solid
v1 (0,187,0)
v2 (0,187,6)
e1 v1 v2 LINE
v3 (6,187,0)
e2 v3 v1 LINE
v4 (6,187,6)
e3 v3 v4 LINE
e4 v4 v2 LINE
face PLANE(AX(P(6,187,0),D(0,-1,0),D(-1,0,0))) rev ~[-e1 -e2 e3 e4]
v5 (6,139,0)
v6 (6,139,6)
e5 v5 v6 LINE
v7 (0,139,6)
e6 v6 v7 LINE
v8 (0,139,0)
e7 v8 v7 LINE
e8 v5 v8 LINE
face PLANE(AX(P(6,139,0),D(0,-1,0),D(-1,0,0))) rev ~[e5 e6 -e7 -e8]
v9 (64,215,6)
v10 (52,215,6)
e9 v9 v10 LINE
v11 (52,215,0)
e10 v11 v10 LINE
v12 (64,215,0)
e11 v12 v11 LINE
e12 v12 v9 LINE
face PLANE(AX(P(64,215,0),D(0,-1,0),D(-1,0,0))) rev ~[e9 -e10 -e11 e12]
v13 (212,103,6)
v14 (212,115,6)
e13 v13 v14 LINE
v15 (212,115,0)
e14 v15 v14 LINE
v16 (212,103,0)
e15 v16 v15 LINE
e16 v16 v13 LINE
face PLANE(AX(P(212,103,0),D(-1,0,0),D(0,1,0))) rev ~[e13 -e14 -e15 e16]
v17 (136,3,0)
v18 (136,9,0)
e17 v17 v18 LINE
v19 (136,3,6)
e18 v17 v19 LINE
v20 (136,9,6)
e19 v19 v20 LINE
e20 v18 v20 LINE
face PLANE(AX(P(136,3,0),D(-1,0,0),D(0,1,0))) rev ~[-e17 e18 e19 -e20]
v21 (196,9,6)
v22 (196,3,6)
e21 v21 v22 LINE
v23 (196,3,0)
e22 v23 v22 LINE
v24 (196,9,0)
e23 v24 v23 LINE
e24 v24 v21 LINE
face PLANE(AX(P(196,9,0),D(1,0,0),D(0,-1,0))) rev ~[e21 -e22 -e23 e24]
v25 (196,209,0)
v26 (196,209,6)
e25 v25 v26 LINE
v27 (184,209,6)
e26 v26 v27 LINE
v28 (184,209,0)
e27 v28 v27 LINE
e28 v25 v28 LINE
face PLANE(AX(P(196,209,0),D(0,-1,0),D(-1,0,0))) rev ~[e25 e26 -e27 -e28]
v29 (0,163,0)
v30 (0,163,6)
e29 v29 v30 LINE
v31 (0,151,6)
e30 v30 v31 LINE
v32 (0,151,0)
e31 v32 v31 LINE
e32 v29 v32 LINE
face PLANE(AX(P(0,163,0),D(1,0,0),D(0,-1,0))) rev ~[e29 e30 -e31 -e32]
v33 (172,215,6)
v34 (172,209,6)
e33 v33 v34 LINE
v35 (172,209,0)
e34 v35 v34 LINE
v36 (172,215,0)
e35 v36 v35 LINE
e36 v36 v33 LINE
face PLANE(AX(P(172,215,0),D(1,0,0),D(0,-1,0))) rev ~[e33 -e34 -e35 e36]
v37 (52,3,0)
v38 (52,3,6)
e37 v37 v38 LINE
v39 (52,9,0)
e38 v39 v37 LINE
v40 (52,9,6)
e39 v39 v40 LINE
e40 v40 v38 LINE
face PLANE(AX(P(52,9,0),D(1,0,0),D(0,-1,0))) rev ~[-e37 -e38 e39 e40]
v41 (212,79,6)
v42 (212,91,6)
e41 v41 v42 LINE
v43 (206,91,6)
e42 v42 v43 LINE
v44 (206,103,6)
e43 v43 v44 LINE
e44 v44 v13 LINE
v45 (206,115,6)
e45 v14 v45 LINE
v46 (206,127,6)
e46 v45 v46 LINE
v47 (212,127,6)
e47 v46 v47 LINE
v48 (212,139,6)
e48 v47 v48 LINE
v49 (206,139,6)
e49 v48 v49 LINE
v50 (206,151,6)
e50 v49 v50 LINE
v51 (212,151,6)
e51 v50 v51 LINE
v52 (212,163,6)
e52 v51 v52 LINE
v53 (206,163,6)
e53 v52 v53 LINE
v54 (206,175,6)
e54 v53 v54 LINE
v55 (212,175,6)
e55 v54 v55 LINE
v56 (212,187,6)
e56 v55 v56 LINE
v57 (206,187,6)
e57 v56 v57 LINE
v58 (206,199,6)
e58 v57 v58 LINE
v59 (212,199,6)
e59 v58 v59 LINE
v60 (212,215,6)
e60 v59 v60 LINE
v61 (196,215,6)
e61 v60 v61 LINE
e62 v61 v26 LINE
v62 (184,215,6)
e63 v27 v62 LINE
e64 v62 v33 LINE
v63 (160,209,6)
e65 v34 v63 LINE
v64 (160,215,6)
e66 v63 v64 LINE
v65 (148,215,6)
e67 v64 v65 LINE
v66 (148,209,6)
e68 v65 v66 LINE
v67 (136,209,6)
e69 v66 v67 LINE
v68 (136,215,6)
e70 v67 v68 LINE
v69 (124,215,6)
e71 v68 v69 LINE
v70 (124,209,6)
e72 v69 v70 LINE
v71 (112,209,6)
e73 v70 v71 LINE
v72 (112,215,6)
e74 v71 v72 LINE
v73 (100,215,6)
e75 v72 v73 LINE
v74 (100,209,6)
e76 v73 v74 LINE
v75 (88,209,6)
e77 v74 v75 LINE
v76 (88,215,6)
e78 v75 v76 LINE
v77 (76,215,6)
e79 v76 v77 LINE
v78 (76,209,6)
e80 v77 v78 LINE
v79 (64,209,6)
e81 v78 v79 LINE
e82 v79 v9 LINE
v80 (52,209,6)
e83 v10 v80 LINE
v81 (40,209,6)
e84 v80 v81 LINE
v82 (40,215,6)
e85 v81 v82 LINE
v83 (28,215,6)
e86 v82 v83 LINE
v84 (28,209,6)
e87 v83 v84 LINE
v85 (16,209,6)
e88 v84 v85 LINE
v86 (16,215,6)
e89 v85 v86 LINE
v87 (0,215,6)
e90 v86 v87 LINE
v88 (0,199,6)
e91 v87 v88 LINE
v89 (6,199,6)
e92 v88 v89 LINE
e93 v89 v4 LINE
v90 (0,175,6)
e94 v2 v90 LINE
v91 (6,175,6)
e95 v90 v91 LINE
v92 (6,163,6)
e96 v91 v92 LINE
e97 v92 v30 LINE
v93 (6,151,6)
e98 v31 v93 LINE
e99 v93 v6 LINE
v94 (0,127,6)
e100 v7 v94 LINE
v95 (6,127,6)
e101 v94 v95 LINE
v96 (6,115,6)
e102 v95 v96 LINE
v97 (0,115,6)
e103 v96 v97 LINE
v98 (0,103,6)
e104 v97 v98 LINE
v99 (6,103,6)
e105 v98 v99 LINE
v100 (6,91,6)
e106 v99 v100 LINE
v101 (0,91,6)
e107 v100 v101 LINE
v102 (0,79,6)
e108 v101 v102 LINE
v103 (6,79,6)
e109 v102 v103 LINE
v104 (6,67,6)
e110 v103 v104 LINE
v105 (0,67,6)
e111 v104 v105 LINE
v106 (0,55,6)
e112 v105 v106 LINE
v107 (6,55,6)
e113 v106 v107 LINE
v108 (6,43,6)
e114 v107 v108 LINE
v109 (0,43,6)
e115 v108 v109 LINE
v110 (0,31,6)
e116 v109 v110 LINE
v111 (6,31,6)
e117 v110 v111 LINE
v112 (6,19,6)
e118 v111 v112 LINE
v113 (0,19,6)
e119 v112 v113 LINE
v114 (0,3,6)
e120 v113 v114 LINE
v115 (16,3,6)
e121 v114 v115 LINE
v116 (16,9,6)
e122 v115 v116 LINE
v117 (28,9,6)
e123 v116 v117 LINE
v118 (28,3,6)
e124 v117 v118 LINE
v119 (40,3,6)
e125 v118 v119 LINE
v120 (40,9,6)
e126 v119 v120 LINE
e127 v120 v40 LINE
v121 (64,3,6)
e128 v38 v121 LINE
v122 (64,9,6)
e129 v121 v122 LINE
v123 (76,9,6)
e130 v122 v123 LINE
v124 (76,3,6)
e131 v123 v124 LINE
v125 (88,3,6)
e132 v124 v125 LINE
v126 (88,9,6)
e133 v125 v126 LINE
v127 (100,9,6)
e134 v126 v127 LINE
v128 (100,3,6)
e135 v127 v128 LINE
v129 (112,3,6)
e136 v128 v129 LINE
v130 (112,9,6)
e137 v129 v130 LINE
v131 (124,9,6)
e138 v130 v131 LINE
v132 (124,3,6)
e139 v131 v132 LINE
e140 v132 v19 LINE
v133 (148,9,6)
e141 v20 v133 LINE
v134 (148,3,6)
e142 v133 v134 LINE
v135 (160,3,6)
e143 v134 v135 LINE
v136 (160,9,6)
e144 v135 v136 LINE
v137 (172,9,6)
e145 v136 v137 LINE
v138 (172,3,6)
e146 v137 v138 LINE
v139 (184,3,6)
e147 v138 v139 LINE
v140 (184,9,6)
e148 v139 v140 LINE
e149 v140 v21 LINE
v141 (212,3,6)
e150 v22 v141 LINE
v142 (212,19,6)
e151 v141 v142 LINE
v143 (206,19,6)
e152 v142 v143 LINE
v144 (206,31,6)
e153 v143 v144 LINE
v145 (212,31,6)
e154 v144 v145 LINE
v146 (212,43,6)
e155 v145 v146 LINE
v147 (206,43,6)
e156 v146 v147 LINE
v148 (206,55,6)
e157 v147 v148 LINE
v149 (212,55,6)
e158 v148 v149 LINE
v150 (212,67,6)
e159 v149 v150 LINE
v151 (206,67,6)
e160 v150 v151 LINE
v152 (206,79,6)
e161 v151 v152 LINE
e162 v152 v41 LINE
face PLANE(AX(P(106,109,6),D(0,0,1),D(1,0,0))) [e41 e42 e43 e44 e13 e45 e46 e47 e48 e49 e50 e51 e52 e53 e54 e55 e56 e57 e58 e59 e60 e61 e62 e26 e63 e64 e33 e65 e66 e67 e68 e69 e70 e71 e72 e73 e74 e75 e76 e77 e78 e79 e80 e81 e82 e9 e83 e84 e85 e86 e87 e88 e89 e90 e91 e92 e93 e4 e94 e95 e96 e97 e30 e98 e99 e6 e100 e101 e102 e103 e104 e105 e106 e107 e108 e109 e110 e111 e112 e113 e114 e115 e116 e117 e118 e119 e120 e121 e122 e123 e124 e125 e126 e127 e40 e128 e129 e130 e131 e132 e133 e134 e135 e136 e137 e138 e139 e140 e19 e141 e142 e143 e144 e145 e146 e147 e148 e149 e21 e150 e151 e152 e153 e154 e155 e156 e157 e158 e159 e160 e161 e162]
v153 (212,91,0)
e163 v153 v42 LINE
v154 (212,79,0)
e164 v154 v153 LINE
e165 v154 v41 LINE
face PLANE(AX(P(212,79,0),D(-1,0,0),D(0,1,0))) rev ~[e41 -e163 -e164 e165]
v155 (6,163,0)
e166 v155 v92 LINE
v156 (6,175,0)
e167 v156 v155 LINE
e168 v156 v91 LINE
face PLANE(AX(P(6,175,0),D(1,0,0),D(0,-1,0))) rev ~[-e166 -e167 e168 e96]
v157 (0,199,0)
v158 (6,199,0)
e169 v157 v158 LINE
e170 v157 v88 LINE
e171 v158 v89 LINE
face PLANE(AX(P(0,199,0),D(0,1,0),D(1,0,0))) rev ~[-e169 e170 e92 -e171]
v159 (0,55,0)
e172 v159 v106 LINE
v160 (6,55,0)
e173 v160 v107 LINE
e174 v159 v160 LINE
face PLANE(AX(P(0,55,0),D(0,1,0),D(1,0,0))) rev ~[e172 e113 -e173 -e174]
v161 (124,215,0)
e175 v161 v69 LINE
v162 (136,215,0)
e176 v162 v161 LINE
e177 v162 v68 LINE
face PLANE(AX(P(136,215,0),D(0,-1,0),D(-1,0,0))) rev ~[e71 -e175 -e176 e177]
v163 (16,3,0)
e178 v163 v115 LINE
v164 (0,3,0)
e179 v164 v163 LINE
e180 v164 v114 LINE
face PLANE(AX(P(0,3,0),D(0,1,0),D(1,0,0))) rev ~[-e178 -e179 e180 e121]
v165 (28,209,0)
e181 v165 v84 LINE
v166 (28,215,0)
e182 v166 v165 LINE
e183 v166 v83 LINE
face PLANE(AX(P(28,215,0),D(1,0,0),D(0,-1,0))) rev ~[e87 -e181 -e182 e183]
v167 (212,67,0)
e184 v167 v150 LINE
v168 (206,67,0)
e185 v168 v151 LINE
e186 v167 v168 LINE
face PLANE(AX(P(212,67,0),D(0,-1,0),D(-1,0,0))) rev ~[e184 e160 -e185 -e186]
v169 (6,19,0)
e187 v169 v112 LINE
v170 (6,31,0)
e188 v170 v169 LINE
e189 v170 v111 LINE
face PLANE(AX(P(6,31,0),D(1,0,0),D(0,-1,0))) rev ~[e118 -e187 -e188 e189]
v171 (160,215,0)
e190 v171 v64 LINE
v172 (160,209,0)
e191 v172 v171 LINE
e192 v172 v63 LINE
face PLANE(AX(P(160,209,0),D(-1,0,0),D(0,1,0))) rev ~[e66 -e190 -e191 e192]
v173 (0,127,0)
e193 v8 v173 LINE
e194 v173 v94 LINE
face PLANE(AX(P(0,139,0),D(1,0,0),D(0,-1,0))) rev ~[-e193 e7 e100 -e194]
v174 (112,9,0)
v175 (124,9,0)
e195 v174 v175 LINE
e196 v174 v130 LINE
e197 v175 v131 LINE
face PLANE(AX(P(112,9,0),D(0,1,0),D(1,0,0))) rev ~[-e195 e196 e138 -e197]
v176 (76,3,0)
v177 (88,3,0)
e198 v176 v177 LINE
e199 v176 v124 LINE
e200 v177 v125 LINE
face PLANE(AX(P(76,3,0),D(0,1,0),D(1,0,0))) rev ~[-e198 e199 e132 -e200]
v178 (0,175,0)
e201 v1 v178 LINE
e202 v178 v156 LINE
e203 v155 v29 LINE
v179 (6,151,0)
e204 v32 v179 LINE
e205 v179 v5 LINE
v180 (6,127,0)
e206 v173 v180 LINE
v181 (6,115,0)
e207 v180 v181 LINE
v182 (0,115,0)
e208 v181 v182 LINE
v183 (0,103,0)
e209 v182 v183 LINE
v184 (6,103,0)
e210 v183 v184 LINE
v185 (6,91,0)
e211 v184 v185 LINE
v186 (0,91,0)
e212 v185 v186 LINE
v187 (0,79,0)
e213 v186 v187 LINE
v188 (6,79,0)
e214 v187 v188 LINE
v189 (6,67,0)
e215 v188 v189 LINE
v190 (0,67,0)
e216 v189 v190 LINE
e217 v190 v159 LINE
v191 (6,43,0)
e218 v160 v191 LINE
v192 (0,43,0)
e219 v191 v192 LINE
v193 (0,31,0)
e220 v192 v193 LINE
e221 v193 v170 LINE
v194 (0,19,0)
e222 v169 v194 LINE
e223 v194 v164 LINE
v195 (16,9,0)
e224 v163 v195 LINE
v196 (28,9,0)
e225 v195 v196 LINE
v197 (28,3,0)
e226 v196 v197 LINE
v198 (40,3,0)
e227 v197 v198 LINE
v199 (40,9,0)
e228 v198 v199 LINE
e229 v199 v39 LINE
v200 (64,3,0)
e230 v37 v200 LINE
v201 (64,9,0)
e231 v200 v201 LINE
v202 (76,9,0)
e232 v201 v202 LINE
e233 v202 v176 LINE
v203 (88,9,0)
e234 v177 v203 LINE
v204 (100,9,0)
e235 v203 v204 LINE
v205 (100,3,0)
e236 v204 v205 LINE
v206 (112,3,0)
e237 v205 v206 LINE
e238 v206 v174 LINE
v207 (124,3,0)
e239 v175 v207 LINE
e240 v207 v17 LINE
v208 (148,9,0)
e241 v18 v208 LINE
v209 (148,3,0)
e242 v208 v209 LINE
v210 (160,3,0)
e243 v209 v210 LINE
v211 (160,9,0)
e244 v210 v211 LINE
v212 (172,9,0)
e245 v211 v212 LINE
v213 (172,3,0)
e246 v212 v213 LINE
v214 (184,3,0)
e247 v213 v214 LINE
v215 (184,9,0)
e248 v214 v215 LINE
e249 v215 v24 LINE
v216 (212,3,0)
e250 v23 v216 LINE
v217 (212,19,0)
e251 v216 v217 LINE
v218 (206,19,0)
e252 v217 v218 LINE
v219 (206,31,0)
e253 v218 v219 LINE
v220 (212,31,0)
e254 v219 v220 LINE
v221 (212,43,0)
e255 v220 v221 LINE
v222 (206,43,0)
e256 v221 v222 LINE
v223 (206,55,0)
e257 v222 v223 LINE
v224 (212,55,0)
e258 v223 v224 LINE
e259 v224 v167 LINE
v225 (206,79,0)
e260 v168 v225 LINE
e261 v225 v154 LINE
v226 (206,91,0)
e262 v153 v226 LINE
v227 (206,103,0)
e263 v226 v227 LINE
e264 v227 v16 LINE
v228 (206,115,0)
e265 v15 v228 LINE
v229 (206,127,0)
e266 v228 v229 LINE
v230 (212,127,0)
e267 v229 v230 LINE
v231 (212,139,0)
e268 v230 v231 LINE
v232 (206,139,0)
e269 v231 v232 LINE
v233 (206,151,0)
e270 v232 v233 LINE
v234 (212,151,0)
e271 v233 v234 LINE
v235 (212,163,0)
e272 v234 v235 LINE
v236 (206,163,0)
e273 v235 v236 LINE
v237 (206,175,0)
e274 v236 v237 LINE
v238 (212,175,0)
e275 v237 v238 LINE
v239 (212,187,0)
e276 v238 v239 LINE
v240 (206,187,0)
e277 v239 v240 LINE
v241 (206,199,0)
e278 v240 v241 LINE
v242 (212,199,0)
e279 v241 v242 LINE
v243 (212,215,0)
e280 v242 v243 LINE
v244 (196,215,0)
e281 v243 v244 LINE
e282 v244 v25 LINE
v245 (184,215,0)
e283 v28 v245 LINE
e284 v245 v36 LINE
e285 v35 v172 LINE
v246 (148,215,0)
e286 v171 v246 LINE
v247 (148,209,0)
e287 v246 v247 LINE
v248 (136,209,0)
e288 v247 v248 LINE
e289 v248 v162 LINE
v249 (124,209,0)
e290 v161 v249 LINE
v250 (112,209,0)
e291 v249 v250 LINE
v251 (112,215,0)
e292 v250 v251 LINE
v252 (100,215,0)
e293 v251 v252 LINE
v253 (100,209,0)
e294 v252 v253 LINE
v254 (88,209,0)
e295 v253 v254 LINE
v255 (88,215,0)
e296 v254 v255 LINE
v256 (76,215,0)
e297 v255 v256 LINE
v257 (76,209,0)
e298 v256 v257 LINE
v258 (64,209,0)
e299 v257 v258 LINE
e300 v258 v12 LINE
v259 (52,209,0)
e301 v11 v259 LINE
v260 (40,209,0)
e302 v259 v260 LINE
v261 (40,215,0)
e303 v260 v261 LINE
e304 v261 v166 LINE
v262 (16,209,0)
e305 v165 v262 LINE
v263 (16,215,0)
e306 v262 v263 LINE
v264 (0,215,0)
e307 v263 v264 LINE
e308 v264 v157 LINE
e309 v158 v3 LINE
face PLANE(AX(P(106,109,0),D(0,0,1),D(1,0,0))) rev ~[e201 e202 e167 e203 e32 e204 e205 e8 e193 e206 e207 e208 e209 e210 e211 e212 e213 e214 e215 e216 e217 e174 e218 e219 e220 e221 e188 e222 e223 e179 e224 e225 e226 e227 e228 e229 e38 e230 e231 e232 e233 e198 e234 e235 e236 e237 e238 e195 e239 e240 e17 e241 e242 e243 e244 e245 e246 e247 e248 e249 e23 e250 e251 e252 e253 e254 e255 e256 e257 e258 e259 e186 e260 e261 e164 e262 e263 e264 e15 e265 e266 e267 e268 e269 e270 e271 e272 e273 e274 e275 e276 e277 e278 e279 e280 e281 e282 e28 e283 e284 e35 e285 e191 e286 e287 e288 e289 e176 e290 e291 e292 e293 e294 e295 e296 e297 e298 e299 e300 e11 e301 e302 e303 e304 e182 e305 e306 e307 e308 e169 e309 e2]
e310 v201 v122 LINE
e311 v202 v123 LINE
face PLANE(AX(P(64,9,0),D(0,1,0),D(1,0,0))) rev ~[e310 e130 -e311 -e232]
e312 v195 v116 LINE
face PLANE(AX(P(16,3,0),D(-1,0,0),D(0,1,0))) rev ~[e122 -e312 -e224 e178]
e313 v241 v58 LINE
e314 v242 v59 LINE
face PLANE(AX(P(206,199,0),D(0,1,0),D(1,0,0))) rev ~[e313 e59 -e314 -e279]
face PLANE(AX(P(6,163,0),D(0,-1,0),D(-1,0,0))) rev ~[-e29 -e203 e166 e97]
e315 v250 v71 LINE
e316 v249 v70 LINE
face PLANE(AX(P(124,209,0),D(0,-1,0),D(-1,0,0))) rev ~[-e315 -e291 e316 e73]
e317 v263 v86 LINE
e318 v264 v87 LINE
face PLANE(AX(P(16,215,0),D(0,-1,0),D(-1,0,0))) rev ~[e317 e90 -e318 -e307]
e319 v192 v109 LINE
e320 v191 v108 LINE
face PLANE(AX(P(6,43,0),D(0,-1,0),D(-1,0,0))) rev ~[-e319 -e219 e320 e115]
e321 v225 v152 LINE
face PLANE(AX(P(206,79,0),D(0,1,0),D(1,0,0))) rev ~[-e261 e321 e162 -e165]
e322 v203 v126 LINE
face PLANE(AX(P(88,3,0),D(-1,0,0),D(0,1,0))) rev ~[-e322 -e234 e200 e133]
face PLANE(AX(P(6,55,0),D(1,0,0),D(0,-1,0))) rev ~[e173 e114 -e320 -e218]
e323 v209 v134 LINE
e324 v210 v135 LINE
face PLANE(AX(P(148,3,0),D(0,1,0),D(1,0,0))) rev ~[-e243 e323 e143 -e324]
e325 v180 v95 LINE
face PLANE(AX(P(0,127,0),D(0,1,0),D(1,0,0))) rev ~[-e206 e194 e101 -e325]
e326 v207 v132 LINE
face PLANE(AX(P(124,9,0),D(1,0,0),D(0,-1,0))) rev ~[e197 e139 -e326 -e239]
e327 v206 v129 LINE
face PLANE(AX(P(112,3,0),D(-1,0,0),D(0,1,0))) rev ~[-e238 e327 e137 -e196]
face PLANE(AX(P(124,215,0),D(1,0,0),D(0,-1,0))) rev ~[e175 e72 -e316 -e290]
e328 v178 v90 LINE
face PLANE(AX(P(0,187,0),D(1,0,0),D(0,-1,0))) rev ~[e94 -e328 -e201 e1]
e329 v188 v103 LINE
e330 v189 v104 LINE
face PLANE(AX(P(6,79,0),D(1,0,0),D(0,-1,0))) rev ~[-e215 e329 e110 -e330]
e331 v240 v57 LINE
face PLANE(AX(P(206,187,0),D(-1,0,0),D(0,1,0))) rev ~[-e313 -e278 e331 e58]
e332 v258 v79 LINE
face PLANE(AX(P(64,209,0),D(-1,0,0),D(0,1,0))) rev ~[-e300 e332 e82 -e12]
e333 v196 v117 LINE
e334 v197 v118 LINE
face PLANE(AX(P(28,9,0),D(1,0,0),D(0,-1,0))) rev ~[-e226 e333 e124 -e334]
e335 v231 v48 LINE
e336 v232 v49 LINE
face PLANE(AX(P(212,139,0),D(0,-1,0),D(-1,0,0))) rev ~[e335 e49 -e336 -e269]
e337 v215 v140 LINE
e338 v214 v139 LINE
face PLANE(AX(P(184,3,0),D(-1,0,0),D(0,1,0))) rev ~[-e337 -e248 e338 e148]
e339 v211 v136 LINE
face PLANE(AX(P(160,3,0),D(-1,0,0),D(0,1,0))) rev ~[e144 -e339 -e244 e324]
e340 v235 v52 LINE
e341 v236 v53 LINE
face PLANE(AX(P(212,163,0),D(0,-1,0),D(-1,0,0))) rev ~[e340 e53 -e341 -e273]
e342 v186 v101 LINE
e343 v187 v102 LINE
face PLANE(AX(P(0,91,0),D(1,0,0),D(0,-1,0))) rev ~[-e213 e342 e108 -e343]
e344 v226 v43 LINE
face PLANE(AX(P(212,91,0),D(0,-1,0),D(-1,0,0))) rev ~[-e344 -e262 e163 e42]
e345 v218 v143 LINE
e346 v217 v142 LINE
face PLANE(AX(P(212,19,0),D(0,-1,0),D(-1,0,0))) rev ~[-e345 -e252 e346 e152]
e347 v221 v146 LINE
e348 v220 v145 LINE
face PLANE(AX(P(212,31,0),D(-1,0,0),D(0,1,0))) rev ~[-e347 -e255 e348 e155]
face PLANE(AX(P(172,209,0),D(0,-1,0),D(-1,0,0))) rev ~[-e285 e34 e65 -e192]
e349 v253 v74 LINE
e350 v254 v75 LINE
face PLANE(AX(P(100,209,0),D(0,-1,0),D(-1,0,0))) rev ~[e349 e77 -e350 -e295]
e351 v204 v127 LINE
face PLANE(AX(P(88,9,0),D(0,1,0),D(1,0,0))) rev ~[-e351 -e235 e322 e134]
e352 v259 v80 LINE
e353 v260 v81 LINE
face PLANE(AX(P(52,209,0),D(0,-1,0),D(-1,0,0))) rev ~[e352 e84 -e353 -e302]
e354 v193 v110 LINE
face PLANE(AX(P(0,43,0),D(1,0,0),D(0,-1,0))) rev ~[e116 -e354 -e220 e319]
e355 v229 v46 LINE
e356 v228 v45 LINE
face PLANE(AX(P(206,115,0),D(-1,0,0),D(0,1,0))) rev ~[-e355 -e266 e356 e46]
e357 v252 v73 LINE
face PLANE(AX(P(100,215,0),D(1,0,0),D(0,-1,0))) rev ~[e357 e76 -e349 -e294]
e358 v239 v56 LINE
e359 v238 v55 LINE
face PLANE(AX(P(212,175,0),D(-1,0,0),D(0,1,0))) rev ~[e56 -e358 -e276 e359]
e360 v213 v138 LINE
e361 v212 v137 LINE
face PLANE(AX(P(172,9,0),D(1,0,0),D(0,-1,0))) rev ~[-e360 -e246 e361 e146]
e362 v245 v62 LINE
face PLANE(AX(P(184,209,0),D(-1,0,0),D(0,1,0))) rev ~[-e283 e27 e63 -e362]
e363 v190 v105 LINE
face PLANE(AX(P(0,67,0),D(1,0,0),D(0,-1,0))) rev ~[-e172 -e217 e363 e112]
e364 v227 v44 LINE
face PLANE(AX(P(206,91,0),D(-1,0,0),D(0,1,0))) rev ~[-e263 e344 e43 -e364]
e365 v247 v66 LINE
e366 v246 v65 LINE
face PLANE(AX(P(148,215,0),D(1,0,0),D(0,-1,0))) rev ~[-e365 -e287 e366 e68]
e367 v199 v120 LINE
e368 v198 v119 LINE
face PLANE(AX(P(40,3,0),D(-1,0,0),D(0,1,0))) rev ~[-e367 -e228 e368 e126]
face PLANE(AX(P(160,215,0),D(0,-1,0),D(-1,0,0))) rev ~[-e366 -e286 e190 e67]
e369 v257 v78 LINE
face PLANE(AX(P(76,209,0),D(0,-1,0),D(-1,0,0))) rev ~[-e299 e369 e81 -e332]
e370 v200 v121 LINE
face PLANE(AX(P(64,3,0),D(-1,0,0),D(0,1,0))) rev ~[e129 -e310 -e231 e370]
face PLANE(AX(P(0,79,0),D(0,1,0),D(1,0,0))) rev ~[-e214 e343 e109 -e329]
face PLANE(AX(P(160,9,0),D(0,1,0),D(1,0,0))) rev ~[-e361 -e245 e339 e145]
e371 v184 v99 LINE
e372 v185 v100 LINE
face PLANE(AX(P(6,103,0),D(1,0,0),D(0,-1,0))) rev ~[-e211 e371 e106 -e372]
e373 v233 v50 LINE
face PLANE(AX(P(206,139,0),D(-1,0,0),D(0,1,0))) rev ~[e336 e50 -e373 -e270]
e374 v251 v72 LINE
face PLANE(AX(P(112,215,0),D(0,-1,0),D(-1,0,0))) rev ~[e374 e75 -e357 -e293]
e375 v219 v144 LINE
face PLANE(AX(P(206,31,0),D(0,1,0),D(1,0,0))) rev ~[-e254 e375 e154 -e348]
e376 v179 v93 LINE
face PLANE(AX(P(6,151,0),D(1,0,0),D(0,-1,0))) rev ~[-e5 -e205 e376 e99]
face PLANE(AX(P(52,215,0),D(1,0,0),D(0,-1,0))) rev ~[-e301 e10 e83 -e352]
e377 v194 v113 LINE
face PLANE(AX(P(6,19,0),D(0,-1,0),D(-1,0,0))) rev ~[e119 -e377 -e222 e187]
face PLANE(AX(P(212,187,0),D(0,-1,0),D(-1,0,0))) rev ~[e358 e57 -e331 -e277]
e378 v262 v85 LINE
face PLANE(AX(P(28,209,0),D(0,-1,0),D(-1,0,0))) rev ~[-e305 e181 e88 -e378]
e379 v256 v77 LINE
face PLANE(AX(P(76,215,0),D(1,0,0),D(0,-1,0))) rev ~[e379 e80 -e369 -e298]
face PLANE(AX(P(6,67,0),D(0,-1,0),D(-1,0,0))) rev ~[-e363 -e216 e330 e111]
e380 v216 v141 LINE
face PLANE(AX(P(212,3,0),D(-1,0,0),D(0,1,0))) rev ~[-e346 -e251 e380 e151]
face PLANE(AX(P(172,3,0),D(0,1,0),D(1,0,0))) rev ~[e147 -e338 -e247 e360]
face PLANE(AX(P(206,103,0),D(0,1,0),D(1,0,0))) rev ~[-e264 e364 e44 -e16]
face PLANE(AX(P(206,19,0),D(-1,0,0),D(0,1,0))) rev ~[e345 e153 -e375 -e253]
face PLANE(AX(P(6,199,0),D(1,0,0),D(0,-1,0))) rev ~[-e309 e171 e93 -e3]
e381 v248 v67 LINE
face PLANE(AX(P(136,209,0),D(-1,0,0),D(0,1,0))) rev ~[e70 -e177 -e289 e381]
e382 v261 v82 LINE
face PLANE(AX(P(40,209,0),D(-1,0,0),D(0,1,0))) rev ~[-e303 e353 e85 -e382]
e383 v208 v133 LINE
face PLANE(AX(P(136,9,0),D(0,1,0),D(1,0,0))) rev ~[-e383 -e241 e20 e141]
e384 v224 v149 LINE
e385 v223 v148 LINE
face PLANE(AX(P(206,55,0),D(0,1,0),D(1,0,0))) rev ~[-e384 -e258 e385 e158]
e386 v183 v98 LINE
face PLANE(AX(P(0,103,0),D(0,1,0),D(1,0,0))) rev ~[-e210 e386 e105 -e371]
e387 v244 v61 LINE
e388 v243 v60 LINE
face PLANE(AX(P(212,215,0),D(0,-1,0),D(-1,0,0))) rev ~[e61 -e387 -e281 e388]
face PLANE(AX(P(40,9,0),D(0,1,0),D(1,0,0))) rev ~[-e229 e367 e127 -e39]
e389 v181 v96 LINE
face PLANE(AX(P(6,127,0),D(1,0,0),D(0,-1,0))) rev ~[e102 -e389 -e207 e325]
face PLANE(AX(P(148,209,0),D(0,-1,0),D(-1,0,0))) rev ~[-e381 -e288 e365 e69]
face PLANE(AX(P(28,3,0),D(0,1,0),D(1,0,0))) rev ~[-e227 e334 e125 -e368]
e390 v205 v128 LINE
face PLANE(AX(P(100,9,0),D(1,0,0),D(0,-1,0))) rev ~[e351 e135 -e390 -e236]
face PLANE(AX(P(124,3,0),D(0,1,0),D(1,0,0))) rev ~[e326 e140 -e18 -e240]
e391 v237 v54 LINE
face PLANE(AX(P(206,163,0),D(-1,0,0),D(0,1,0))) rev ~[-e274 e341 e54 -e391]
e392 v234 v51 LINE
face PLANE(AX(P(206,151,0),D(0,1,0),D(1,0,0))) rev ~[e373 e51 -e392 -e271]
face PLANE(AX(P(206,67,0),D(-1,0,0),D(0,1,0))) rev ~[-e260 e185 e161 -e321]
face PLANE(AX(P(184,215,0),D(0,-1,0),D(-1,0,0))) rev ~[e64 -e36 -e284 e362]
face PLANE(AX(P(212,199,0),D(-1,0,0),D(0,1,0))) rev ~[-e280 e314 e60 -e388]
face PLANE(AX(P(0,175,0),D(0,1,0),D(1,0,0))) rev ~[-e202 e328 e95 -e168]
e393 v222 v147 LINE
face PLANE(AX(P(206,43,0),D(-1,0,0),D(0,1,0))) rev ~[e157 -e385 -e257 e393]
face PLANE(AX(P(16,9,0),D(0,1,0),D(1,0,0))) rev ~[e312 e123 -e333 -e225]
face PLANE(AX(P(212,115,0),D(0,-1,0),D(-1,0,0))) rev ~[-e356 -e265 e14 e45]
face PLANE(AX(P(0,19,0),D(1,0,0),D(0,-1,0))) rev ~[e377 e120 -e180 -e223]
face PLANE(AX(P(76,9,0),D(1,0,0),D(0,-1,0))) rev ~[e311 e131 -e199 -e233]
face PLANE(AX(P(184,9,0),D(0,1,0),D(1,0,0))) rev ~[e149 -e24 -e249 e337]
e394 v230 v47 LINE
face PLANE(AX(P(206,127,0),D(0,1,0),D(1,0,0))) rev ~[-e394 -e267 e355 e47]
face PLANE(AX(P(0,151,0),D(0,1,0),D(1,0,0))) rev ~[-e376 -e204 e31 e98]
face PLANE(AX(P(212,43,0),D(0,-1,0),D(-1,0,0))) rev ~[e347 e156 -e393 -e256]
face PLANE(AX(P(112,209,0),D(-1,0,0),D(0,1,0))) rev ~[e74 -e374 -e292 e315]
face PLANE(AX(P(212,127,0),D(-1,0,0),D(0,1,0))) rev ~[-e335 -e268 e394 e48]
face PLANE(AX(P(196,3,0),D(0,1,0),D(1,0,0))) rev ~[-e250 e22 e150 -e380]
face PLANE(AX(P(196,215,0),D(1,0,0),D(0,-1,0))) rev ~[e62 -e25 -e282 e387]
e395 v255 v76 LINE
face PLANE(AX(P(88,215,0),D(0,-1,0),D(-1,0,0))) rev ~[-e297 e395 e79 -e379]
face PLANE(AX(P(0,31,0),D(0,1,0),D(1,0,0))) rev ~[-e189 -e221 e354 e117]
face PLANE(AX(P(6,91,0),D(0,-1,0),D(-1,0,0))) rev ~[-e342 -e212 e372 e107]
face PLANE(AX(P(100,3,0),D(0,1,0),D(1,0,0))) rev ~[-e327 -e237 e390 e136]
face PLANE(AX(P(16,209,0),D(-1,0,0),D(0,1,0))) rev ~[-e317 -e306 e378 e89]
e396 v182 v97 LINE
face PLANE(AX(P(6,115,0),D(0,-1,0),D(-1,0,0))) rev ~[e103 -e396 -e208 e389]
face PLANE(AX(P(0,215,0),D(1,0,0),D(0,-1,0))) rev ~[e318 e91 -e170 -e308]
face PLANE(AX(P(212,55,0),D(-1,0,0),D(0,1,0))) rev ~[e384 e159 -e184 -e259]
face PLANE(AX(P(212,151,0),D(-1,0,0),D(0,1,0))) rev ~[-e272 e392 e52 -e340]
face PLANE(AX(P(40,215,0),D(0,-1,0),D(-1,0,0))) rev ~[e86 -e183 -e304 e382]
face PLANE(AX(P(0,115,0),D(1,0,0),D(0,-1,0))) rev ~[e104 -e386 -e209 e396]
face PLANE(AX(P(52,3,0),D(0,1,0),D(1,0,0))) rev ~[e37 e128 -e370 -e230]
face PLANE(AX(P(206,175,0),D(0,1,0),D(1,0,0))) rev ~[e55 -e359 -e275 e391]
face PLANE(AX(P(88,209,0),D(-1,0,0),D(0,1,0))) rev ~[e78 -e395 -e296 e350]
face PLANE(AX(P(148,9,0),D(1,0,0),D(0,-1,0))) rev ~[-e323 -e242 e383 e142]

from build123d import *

# Parameters (mm, degrees)
BOSS_EXTRUDE1_DEPTH = 6


with BuildPart() as part:
    # Model → Boss-Extrude1 (new body)
    with BuildSketch(Plane.XY):
        Polygon((0, 215), (0, 199), (6, 199), (6, 187), (0, 187), (0, 175), (6, 175), (6, 163), (0, 163), (0, 151), (6, 151), (6, 139), (0, 139), (0, 127), (6, 127), (6, 115), (0, 115), (0, 103), (6, 103), (6, 91), (0, 91), (0, 79), (6, 79), (6, 67), (0, 67), (0, 55), (6, 55), (6, 43), (0, 43), (0, 31), (6, 31), (6, 19), (0, 19), (0, 3), (16, 3), (16, 9), (28, 9), (28, 3), (40, 3), (40, 9), (52, 9), (52, 3), (64, 3), (64, 9), (76, 9), (76, 3), (88, 3), (88, 9), (100, 9), (100, 3), (112, 3), (112, 9), (124, 9), (124, 3), (136, 3), (136, 9), (148, 9), (148, 3), (160, 3), (160, 9), (172, 9), (172, 3), (184, 3), (184, 9), (196, 9), (196, 3), (212, 3), (212, 19), (206, 19), (206, 31), (212, 31), (212, 43), (206, 43), (206, 55), (212, 55), (212, 67), (206, 67), (206, 79), (212, 79), (212, 91), (206, 91), (206, 103), (212, 103), (212, 115), (206, 115), (206, 127), (212, 127), (212, 139), (206, 139), (206, 151), (212, 151), (212, 163), (206, 163), (206, 175), (212, 175), (212, 187), (206, 187), (206, 199), (212, 199), (212, 215), (196, 215), (196, 209), (184, 209), (184, 215), (172, 215), (172, 209), (160, 209), (160, 215), (148, 215), (148, 209), (136, 209), (136, 215), (124, 215), (124, 209), (112, 209), (112, 215), (100, 215), (100, 209), (88, 209), (88, 215), (76, 215), (76, 209), (64, 209), (64, 215), (52, 215), (52, 209), (40, 209), (40, 215), (28, 215), (28, 209), (16, 209), (16, 215), align=None)
    extrude(amount=BOSS_EXTRUDE1_DEPTH)


solid = part.part
